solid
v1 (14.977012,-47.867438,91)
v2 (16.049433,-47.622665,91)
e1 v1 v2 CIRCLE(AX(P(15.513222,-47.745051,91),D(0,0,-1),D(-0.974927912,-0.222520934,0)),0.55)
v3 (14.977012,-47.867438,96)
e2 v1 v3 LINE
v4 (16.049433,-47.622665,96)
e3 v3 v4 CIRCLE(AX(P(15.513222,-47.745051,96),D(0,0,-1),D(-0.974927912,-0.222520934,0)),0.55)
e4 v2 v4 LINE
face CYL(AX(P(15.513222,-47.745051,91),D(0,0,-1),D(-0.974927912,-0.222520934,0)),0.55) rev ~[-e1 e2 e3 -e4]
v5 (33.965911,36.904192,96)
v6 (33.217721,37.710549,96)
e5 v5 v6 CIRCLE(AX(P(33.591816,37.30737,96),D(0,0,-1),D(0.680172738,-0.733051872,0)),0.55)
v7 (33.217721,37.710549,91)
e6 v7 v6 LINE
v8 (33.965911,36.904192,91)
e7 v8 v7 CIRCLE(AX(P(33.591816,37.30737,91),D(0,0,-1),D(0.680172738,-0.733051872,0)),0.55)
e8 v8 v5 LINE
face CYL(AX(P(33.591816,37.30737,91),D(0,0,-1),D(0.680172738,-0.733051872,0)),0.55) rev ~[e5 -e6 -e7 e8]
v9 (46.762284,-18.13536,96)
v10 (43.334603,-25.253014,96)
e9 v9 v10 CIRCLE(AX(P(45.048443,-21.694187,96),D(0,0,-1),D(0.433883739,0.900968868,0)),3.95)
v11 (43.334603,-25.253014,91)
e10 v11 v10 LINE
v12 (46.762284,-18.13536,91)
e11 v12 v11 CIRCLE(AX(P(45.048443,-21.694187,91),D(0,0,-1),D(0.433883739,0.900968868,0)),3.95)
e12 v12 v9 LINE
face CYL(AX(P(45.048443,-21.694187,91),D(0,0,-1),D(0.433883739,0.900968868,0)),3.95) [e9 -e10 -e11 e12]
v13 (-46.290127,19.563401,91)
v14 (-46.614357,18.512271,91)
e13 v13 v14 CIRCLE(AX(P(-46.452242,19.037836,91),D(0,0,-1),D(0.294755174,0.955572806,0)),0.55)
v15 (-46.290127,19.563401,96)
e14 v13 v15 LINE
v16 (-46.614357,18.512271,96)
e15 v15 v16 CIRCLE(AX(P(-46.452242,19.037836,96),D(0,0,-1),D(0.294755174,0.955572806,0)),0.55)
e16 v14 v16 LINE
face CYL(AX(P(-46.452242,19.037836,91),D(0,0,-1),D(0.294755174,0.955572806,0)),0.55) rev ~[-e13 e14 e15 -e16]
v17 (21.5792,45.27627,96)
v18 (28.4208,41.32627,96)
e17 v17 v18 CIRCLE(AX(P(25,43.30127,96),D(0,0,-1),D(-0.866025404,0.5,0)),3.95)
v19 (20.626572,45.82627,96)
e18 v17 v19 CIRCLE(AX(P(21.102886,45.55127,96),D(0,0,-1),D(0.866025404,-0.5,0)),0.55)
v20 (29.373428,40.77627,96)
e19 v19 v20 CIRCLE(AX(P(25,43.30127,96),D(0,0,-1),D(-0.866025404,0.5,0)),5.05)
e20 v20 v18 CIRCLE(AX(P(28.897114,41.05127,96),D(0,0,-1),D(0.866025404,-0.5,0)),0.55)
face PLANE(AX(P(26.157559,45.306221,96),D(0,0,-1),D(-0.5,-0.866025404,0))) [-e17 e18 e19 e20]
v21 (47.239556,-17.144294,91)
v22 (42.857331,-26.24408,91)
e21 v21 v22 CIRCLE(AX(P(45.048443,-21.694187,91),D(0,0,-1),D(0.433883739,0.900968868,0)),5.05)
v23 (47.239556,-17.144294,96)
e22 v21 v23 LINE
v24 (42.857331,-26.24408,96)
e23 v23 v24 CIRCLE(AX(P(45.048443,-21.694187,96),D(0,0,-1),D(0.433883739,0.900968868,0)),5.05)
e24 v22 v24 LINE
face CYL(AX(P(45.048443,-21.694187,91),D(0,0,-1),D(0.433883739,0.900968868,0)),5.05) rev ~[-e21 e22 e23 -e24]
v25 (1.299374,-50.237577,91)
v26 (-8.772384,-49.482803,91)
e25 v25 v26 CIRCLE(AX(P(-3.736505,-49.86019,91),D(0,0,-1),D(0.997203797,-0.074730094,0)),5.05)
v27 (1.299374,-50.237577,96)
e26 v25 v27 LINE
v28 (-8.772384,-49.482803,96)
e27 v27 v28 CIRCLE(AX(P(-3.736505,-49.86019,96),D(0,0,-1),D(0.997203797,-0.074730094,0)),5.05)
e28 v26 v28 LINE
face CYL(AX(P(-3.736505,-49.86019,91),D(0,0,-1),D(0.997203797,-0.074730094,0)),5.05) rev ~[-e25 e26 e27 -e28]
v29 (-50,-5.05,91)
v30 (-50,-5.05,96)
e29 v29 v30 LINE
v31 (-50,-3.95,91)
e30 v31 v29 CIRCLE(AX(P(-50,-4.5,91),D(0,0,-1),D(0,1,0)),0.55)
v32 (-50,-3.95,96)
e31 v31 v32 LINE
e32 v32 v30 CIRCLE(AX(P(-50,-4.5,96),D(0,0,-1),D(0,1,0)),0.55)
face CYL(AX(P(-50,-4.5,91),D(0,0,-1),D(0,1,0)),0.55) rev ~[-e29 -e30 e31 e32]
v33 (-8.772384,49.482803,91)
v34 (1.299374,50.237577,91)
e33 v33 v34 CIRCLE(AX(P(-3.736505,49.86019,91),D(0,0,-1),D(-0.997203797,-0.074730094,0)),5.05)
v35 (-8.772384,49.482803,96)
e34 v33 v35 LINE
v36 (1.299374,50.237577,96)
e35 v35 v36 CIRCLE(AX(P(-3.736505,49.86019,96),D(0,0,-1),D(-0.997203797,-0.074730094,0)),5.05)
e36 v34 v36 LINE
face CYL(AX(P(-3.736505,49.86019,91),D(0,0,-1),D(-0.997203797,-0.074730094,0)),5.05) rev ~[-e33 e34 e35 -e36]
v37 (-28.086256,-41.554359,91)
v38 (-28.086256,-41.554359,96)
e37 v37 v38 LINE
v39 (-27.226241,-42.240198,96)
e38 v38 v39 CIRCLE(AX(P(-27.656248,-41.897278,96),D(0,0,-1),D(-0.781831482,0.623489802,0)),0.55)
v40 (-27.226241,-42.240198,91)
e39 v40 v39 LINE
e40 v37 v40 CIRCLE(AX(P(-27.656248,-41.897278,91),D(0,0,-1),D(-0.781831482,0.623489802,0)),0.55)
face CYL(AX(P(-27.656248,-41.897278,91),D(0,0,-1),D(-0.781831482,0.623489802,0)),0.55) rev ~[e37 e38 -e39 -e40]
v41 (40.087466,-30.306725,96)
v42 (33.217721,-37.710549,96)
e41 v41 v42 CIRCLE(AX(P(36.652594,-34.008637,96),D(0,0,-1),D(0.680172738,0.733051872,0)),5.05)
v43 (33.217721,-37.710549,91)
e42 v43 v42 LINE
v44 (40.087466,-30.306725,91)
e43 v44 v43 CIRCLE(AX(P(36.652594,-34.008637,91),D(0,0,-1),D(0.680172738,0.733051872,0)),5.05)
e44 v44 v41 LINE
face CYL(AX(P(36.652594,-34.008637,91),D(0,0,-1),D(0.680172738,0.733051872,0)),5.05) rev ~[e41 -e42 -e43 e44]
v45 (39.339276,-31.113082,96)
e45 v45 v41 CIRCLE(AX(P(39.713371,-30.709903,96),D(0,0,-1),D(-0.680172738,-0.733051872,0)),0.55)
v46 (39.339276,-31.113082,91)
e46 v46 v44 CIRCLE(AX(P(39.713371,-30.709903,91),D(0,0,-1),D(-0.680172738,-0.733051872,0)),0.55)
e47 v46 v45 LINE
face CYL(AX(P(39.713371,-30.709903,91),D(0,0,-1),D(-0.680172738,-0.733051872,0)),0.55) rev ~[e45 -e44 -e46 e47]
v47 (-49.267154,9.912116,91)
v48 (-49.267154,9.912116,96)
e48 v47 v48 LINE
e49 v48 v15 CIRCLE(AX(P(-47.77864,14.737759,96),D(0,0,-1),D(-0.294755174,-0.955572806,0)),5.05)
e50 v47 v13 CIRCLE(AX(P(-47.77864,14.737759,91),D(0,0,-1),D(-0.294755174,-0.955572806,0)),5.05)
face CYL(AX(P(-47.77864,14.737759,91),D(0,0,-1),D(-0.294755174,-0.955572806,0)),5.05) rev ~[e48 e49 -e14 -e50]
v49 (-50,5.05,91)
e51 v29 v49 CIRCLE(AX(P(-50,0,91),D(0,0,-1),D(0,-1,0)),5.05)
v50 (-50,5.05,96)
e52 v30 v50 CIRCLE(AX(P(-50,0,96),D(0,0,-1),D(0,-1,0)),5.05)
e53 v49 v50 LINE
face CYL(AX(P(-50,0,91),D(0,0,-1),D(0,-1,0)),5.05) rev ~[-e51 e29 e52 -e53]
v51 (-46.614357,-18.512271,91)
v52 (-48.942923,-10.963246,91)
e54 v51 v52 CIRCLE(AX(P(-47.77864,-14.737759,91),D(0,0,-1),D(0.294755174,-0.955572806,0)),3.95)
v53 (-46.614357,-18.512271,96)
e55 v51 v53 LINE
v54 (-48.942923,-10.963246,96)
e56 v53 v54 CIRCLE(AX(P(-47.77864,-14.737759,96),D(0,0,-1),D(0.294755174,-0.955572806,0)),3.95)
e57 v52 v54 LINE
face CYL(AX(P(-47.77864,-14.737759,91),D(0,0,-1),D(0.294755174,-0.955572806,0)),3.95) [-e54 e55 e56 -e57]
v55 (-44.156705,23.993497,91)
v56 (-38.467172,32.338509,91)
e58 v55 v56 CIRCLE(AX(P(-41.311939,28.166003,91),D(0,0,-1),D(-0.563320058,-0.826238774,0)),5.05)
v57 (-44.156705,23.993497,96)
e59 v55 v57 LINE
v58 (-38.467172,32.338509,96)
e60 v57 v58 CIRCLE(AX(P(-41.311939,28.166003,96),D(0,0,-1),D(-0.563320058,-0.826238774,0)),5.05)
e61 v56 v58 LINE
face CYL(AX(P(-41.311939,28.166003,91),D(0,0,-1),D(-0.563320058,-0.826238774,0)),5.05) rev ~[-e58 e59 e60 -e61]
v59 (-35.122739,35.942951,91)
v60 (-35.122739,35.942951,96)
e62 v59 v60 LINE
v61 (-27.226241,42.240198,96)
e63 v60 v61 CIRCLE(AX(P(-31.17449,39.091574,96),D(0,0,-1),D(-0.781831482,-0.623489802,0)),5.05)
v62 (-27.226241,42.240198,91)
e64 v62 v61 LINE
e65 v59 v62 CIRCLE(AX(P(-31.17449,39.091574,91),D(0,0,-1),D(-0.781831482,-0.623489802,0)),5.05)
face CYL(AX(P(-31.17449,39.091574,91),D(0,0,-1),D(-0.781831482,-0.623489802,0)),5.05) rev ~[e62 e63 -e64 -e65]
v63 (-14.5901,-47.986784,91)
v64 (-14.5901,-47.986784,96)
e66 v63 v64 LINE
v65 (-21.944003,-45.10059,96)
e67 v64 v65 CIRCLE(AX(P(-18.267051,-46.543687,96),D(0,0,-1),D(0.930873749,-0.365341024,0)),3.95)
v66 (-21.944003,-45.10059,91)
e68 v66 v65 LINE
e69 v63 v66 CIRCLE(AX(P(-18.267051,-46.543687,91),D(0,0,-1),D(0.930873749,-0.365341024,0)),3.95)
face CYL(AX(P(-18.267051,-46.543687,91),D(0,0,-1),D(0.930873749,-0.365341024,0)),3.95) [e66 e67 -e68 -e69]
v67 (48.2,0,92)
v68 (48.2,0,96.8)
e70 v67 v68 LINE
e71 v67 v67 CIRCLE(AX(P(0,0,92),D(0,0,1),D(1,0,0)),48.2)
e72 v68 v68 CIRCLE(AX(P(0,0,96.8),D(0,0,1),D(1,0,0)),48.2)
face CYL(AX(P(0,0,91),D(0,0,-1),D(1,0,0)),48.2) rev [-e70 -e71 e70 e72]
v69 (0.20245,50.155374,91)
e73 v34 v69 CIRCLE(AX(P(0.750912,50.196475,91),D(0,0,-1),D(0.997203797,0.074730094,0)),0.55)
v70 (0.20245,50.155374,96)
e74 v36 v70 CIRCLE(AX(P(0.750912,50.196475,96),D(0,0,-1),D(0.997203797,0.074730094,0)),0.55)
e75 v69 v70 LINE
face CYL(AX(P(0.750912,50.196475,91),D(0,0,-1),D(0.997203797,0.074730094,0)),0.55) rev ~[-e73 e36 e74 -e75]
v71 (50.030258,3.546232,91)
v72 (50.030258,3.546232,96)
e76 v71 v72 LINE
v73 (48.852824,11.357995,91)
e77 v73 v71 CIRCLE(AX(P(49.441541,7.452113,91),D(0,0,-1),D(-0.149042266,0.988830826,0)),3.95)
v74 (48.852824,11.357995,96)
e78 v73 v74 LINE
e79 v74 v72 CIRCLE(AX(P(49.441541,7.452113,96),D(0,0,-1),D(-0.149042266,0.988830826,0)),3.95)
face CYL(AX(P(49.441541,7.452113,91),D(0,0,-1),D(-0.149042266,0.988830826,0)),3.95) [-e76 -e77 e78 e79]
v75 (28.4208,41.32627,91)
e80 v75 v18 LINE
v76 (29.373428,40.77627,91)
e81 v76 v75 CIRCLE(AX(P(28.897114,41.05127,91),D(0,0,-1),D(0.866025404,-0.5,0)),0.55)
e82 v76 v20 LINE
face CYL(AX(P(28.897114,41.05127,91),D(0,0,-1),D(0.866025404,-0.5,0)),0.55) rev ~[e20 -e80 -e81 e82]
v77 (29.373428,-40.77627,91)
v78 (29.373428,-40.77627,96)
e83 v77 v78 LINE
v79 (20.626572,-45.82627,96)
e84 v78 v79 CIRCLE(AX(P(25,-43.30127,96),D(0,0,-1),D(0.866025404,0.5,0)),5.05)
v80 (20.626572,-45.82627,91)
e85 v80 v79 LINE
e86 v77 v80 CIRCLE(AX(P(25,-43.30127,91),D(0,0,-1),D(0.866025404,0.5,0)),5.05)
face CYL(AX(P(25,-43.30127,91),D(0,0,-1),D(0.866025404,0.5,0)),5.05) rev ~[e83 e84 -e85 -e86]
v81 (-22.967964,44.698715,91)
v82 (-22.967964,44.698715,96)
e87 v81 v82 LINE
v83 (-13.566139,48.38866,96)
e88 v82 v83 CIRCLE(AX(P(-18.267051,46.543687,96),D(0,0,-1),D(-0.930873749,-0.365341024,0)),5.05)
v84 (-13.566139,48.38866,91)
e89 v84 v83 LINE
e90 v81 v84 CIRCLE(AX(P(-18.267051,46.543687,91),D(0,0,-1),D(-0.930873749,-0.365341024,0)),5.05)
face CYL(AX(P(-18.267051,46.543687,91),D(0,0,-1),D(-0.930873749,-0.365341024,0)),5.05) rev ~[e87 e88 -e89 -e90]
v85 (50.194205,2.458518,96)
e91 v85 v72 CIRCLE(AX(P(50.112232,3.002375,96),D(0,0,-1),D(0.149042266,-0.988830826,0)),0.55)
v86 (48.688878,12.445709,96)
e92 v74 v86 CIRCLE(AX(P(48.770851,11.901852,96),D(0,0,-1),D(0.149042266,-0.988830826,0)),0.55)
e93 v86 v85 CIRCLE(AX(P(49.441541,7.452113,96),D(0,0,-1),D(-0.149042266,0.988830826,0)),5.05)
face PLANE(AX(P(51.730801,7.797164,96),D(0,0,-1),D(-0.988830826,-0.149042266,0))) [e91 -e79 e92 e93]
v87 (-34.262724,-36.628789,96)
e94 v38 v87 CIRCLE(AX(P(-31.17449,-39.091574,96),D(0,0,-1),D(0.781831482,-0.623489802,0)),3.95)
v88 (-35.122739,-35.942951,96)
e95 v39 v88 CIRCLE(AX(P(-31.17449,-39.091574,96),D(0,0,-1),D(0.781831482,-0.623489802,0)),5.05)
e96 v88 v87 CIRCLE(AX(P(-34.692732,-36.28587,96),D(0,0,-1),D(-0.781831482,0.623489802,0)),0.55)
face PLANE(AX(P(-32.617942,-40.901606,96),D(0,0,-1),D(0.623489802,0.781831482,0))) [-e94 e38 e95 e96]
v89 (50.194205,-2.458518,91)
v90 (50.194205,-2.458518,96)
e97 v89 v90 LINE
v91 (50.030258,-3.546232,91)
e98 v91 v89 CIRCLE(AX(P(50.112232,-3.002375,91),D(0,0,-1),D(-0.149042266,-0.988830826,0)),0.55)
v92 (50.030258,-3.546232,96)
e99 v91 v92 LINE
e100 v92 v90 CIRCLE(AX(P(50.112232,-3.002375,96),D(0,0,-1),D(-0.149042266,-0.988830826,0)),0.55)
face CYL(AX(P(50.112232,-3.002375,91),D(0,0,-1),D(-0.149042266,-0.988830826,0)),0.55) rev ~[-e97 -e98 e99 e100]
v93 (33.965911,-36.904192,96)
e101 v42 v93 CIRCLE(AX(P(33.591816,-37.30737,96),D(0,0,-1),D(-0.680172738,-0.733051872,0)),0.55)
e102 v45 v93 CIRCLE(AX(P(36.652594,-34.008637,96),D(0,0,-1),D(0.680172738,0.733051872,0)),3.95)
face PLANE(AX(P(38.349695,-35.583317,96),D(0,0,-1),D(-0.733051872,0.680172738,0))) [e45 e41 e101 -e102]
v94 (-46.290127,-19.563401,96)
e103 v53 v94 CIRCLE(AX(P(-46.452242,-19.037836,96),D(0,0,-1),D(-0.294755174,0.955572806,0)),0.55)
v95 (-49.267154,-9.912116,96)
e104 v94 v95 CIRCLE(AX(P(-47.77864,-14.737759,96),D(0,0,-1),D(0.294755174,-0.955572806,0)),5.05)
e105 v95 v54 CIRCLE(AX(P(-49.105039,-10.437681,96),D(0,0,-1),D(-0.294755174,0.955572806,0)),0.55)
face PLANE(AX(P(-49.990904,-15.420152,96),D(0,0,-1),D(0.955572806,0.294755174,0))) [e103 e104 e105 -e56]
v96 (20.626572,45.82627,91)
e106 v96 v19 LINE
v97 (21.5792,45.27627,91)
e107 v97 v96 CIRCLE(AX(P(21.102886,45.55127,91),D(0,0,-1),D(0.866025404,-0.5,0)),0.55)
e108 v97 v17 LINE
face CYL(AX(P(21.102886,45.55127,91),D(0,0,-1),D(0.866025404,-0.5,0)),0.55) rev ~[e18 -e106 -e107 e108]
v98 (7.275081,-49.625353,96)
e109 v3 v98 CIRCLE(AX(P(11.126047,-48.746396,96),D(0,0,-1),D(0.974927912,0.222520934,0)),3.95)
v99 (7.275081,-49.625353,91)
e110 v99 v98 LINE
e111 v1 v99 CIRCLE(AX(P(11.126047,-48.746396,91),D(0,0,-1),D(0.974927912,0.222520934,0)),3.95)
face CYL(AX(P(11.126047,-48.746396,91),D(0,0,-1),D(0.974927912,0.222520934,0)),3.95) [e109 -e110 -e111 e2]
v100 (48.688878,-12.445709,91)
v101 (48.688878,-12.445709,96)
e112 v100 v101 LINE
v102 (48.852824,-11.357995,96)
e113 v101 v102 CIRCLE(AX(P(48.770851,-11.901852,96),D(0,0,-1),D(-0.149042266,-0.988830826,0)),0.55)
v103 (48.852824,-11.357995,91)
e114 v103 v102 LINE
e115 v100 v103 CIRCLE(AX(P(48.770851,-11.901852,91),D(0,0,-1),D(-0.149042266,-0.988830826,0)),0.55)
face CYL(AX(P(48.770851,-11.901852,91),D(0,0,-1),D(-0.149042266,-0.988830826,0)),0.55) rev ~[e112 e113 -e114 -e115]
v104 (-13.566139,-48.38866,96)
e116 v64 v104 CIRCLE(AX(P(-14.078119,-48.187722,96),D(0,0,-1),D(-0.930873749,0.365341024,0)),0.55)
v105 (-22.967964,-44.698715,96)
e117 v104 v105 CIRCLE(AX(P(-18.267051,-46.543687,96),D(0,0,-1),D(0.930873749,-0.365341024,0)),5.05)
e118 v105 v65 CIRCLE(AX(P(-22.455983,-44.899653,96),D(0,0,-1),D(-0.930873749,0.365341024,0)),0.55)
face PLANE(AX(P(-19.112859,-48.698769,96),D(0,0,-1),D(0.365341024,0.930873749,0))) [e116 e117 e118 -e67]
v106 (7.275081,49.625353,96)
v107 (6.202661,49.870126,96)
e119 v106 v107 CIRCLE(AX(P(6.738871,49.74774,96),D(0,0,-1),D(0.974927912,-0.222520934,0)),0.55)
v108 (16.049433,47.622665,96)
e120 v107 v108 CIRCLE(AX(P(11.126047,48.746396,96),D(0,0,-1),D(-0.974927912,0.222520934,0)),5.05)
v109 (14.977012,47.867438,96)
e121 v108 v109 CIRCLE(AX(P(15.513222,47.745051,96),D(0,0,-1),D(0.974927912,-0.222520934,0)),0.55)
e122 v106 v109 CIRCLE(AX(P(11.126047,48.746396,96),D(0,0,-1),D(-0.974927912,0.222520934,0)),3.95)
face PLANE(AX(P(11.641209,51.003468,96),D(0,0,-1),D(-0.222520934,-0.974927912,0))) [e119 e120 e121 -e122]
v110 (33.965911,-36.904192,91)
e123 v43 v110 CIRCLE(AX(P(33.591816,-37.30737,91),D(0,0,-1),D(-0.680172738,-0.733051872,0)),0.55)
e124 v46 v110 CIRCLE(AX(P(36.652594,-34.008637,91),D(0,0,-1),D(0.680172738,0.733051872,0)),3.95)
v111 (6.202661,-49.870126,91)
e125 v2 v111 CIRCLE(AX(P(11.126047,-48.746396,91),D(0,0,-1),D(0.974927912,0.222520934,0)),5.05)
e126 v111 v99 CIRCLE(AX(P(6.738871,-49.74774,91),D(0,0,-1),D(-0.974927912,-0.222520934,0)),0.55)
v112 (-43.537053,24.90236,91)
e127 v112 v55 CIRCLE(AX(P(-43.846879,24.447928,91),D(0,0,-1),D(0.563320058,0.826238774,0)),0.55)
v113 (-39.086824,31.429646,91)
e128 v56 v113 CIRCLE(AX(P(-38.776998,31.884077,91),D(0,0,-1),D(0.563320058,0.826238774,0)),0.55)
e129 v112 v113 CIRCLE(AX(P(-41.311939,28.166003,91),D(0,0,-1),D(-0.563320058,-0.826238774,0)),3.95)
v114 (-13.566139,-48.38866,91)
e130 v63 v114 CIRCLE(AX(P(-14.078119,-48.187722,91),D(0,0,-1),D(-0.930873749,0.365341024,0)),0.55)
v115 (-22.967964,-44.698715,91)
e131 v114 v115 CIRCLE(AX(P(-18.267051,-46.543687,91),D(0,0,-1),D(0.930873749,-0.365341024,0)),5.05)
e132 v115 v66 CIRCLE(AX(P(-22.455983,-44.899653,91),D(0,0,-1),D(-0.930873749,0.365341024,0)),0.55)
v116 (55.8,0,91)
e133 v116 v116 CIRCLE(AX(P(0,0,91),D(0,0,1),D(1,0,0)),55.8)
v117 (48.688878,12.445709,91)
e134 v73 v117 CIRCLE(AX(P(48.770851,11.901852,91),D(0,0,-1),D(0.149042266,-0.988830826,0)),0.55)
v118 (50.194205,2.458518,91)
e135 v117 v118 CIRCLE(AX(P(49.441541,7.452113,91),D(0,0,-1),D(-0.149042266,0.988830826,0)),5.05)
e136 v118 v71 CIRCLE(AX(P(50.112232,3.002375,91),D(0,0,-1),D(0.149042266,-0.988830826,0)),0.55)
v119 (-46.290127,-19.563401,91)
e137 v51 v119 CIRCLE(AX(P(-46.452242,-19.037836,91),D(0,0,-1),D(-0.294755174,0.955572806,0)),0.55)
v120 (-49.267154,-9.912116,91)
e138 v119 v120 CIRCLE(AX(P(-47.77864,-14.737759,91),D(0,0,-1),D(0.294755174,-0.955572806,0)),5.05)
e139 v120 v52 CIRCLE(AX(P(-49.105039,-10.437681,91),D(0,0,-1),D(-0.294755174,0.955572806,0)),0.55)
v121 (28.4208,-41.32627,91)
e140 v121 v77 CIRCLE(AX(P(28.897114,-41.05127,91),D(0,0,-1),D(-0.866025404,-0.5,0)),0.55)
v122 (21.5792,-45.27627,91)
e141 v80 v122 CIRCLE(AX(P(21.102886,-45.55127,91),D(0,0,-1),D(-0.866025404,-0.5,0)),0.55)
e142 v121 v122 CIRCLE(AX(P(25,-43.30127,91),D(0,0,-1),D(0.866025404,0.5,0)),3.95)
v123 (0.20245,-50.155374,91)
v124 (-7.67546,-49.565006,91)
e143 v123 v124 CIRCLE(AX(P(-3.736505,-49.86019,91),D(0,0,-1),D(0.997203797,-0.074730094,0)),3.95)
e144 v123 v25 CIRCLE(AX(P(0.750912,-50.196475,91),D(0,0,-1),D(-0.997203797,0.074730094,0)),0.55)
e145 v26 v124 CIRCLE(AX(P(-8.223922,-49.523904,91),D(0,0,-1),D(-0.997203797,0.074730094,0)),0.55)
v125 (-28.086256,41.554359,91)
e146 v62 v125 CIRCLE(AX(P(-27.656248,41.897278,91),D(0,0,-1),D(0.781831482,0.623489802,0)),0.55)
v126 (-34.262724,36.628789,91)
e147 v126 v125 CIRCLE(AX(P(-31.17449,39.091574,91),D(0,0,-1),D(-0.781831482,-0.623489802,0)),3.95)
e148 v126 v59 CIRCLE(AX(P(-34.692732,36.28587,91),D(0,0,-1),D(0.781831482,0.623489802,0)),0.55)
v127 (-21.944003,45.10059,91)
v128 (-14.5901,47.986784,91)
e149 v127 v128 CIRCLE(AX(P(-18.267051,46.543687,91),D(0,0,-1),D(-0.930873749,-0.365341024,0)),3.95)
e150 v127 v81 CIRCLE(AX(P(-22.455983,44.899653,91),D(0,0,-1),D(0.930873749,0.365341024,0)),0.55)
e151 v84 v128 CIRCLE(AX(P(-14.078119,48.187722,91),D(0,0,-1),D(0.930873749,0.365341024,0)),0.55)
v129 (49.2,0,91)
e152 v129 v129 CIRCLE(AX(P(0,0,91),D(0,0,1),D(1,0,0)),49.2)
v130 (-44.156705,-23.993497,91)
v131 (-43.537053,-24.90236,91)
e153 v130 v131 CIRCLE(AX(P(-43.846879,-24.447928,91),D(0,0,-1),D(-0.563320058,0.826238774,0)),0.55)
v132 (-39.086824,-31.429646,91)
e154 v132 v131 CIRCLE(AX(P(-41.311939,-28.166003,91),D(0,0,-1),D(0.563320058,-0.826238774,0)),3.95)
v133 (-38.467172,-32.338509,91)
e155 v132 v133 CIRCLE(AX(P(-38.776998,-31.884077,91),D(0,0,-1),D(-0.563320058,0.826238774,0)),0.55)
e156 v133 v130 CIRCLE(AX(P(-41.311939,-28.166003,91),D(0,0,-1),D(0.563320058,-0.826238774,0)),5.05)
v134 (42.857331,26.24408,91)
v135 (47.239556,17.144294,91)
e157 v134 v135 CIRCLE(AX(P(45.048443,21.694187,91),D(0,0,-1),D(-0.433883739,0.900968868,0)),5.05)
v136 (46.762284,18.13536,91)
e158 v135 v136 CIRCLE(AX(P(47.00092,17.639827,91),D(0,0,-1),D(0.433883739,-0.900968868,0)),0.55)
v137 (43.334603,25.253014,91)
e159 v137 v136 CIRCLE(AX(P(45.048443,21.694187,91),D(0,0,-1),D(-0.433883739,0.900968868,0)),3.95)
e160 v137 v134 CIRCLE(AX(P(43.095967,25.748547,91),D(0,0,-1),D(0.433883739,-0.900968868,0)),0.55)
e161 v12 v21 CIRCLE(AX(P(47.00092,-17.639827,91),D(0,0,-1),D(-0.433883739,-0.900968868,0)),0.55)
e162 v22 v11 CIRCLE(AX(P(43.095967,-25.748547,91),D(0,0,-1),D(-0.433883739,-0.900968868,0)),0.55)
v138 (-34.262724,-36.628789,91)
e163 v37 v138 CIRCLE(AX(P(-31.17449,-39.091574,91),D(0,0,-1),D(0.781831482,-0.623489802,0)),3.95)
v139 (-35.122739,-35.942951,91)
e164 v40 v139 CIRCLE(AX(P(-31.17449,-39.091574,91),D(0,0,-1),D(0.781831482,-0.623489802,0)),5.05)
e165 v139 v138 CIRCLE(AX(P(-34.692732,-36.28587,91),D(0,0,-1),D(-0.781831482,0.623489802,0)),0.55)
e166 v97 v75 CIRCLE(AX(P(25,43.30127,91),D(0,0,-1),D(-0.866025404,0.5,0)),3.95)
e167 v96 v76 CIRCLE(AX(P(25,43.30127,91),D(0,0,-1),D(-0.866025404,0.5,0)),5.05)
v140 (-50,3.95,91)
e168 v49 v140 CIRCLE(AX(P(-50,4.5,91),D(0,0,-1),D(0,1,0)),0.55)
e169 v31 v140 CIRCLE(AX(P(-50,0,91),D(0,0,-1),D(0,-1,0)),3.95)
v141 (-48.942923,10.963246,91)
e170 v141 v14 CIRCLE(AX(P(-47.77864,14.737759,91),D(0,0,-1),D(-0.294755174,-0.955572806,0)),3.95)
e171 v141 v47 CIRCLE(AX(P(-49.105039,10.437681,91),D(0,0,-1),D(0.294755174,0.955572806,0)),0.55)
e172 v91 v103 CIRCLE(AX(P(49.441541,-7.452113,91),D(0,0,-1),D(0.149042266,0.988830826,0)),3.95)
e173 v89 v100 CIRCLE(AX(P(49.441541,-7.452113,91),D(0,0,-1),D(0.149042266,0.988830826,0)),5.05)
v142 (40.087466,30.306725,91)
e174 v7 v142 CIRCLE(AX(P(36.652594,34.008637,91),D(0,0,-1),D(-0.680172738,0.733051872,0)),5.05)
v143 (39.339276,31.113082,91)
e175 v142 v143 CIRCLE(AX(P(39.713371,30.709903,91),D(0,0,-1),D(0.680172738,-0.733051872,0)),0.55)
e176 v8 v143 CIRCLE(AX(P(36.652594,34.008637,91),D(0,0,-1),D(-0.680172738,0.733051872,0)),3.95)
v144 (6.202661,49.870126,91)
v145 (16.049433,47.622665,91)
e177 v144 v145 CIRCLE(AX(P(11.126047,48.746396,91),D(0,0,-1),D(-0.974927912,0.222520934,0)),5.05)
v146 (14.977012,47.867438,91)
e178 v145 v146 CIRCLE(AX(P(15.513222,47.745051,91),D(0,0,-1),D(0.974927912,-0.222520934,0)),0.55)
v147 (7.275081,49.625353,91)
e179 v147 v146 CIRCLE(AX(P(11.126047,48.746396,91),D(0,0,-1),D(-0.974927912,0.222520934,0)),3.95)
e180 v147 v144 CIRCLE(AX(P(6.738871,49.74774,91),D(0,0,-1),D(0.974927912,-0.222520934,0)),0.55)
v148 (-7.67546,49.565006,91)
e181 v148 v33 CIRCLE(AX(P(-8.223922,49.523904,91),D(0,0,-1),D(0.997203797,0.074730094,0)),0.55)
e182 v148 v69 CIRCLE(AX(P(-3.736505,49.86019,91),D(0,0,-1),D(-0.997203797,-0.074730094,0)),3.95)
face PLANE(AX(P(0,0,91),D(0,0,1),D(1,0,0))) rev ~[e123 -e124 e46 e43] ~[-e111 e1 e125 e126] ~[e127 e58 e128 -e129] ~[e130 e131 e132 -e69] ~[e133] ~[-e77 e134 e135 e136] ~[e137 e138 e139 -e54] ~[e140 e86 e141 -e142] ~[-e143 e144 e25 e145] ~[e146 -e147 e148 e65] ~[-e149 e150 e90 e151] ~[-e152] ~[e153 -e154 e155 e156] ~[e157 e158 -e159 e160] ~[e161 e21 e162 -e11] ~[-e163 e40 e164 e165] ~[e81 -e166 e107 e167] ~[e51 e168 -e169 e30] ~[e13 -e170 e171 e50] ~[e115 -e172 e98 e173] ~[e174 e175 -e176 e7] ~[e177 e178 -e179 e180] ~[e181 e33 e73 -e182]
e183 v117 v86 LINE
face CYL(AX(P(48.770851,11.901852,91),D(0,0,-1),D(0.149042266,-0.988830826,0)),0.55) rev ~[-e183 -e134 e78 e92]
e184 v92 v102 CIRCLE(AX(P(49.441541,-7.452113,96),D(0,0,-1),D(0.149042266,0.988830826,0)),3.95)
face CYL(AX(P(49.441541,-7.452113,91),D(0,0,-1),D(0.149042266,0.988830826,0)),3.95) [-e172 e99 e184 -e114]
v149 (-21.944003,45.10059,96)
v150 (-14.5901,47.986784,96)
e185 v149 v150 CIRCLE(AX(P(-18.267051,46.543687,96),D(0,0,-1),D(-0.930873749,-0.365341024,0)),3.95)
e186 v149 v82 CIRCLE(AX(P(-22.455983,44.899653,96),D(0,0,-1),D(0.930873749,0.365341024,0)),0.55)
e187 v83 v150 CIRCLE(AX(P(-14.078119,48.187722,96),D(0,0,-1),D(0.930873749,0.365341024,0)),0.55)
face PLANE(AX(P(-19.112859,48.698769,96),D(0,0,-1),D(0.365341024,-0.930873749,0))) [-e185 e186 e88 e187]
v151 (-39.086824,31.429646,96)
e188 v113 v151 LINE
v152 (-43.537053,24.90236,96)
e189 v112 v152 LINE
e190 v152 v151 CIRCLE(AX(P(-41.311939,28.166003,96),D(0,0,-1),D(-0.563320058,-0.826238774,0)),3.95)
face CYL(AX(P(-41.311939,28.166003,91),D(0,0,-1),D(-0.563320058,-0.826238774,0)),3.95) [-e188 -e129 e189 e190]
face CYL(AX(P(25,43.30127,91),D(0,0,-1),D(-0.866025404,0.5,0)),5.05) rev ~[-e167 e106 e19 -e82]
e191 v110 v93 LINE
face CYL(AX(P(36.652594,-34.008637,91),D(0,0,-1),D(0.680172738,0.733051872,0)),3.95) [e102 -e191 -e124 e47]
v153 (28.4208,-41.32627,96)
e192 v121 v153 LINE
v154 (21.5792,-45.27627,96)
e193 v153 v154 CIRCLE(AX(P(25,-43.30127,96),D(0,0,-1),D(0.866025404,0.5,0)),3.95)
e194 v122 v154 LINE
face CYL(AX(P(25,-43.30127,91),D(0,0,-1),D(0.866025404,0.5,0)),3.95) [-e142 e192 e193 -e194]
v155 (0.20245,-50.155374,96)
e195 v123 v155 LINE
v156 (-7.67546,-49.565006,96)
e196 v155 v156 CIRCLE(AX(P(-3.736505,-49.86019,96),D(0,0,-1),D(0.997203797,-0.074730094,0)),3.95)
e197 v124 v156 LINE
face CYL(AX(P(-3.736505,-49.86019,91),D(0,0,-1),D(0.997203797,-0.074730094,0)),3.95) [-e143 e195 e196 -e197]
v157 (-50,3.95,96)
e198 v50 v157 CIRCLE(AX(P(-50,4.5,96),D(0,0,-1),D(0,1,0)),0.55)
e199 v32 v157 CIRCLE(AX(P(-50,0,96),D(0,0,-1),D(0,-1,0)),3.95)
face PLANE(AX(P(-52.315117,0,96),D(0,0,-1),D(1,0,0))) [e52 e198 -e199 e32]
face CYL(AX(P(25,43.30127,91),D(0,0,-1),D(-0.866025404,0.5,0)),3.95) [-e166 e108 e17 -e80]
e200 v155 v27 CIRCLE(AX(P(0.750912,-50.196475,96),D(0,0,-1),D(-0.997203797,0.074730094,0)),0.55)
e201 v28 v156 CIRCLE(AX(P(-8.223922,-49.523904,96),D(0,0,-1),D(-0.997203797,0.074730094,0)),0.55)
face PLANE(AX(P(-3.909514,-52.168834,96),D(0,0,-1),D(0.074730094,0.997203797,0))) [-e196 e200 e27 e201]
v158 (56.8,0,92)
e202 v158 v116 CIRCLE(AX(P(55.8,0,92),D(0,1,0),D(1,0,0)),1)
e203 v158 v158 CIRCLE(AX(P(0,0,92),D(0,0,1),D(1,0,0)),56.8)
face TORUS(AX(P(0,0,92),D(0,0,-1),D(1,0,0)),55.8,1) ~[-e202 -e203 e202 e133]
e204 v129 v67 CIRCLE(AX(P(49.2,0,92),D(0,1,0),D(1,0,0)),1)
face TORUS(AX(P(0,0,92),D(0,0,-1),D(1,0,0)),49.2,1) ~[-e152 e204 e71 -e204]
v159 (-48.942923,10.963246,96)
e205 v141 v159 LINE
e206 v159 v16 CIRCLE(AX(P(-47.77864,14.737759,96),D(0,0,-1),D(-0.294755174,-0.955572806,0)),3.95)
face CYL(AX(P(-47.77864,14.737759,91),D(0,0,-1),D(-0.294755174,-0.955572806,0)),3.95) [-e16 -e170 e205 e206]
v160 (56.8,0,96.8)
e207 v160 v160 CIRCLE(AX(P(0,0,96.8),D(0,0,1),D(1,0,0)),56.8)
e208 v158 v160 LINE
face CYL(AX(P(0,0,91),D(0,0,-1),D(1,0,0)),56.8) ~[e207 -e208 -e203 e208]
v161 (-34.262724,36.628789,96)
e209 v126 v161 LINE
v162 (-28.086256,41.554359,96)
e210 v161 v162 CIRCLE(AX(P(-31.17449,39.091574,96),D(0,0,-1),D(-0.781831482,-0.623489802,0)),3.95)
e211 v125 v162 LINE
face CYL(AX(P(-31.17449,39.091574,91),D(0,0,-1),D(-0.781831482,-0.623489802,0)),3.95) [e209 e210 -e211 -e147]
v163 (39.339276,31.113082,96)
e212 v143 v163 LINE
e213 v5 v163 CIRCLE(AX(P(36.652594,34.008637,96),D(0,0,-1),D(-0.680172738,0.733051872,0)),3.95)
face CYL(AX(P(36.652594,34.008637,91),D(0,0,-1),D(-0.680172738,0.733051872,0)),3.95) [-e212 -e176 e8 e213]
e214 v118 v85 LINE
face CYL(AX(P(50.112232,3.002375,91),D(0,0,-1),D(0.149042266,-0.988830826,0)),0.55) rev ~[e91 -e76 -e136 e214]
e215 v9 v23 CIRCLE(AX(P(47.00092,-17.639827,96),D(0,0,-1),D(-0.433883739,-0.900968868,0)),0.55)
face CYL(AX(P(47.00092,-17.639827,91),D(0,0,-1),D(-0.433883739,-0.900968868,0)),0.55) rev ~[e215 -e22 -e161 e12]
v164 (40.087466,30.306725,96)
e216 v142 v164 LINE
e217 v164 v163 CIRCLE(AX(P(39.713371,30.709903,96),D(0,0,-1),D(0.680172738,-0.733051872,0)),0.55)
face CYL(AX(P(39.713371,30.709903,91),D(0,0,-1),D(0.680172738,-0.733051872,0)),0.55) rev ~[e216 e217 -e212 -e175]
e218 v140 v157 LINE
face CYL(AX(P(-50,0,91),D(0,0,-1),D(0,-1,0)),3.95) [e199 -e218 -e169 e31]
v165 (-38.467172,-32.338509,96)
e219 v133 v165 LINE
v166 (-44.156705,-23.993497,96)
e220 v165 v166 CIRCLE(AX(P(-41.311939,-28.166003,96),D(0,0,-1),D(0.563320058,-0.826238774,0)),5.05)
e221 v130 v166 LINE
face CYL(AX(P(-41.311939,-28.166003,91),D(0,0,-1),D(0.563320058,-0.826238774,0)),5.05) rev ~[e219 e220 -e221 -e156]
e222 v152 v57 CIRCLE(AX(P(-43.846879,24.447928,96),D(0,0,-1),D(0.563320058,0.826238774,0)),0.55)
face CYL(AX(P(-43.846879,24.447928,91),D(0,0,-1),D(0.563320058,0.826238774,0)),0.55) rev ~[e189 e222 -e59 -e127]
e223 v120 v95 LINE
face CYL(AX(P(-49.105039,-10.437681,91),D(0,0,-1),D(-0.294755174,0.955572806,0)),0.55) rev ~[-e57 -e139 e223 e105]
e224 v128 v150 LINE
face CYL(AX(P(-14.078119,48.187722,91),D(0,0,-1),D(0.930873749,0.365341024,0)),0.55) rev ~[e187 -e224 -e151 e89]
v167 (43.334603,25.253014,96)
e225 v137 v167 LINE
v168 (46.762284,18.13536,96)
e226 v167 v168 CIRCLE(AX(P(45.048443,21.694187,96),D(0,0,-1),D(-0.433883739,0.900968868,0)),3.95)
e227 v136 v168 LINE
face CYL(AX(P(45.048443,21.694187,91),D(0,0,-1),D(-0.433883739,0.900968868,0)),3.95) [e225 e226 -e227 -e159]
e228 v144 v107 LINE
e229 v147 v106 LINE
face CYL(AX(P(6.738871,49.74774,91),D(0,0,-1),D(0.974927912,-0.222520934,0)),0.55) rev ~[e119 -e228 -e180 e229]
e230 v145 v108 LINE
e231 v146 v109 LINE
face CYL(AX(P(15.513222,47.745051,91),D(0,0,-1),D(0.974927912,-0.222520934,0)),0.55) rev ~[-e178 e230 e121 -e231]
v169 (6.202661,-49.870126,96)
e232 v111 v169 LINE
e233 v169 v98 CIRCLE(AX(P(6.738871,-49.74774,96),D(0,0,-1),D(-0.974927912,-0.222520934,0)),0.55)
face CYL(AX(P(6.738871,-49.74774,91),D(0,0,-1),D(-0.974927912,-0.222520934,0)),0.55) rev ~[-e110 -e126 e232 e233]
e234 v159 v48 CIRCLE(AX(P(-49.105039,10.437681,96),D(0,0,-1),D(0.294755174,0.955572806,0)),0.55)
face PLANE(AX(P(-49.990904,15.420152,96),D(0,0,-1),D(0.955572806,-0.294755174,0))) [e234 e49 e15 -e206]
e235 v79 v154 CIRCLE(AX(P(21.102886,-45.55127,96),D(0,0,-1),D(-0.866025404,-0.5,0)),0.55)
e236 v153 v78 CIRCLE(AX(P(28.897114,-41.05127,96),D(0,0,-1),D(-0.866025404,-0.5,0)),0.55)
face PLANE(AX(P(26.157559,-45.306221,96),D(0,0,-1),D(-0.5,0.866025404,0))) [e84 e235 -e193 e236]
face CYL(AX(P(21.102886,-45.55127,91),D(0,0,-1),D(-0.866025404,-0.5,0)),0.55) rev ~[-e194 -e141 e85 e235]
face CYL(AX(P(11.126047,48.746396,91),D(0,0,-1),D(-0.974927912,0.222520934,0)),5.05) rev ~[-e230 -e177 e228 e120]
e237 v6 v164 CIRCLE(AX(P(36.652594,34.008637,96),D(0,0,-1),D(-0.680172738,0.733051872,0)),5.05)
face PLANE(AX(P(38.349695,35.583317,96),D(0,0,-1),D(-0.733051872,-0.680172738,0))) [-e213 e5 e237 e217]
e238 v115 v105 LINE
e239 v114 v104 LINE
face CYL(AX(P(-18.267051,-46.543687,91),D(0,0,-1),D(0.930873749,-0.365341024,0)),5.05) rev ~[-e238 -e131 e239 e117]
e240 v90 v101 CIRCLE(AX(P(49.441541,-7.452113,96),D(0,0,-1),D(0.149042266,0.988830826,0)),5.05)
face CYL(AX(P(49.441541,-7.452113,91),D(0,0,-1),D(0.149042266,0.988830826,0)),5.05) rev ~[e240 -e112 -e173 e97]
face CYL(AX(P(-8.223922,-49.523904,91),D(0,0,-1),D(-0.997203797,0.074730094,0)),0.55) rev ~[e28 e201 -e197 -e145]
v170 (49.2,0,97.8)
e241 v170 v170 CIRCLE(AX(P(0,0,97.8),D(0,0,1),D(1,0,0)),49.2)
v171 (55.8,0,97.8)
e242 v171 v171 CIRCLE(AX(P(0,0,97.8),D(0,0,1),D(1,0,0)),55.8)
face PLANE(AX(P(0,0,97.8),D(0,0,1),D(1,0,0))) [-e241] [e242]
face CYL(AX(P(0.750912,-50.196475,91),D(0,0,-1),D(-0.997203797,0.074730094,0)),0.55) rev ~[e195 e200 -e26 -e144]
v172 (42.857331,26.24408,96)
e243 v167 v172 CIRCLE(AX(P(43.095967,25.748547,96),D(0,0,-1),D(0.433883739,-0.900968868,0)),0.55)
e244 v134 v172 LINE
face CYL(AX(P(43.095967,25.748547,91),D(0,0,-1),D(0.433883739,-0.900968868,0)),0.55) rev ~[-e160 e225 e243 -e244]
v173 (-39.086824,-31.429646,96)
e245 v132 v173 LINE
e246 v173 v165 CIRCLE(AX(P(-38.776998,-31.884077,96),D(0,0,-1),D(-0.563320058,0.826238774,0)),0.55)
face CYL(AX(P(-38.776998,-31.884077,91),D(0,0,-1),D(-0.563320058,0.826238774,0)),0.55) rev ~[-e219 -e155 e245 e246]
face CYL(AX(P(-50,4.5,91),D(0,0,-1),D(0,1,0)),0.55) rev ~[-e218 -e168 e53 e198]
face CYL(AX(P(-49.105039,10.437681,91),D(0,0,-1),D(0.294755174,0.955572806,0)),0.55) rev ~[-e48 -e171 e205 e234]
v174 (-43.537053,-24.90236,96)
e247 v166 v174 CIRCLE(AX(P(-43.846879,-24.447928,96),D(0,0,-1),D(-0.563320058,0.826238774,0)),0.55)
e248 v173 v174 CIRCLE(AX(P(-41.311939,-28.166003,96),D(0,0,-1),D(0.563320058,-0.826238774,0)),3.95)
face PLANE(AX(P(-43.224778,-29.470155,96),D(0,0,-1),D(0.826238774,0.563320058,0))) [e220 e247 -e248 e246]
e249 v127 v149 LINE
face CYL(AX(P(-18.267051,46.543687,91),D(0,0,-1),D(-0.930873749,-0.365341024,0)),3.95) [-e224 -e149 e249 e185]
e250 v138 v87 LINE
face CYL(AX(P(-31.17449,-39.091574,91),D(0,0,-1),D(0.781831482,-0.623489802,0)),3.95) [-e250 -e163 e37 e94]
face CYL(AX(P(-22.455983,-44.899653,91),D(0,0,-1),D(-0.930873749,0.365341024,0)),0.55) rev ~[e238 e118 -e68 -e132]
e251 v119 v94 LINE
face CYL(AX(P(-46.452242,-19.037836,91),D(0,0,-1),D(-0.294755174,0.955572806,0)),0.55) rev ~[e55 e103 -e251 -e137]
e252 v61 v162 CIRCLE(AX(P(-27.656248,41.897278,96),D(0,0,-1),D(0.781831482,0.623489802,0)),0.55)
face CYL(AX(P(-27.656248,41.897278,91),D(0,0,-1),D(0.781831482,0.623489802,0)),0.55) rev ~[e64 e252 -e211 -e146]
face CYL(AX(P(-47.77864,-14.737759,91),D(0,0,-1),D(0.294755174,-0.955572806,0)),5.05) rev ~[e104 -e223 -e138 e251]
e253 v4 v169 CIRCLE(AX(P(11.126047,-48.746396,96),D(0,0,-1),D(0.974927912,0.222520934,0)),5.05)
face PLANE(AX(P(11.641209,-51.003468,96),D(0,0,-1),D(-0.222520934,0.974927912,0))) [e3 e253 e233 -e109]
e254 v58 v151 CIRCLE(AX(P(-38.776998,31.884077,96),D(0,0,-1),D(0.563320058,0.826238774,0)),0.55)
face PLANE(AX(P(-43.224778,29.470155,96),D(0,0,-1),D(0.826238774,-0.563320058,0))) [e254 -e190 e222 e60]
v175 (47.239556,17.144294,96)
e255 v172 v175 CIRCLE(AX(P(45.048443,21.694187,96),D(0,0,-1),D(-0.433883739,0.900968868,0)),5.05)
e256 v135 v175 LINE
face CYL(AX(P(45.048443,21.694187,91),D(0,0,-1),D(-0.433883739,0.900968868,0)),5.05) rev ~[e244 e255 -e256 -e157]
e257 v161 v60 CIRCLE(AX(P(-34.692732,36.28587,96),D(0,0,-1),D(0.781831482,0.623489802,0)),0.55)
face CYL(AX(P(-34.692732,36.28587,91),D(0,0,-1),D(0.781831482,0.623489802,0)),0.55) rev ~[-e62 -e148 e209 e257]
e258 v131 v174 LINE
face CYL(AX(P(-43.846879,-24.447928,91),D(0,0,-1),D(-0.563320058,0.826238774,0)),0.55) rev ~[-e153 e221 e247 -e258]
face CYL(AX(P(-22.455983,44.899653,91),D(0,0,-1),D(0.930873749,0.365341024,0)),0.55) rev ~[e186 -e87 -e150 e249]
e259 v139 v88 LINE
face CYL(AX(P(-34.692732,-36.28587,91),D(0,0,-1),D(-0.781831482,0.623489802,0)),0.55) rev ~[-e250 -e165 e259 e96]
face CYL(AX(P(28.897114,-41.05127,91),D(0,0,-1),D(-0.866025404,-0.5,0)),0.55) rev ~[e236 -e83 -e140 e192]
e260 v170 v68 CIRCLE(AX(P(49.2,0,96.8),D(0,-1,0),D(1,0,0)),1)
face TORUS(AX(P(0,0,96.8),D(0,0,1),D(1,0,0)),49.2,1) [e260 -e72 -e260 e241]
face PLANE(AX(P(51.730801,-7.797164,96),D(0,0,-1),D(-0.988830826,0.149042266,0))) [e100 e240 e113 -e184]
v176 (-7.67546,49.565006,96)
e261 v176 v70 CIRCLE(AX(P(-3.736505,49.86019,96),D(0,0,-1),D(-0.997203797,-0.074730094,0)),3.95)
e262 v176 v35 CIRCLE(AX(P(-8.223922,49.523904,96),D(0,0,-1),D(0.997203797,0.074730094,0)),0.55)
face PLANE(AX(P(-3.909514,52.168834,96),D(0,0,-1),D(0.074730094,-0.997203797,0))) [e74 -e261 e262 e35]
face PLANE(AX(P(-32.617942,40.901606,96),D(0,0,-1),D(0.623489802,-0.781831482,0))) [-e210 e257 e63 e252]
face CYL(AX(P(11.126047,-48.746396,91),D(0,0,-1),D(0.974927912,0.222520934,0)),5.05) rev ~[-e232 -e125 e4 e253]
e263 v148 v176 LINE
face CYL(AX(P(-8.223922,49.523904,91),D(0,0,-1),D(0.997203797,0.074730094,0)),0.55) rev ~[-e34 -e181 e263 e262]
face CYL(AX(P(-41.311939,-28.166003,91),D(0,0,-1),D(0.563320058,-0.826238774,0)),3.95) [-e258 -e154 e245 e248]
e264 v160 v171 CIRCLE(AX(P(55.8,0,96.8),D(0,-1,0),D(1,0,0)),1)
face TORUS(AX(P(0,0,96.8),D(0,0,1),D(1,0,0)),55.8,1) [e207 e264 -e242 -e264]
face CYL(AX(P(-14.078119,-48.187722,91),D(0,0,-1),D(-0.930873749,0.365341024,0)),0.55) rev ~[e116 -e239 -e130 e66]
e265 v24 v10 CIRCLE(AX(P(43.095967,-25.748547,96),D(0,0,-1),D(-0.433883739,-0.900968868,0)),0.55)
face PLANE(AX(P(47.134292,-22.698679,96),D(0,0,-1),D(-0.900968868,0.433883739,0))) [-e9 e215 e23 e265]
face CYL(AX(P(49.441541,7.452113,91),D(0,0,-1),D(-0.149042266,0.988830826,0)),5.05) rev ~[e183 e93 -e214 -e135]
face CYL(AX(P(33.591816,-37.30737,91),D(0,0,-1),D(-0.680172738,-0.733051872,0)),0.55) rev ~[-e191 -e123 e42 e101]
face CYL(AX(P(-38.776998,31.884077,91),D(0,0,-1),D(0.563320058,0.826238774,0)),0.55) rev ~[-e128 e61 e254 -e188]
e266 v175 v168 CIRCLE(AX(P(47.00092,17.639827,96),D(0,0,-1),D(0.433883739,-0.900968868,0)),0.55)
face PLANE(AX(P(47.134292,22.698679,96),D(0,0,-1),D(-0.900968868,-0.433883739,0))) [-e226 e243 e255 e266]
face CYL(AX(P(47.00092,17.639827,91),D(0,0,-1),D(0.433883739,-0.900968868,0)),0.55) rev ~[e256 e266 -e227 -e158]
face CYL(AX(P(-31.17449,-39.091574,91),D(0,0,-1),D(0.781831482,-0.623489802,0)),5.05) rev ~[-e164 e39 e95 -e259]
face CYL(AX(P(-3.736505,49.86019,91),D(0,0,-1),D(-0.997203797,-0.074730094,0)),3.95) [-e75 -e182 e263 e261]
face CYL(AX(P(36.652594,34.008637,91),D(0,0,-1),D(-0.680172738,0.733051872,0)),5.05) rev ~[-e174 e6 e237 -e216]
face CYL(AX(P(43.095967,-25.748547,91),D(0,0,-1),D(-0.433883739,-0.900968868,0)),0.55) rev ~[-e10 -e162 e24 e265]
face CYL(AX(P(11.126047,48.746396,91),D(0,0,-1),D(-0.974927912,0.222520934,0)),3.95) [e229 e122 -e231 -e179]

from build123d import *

# Parameters (mm, degrees)
SKETCH005_R           = 56.8
SKETCH005_R_2         = 48.2
PAD004_DEPTH          = 6.8
POCKET_DEPTH          = 5
POLARPATTERN003_COUNT = 21
FILLET001_R           = 1


with BuildPart() as part:
    # Sketch005 → Pad004 (new body)
    with BuildSketch(Plane.XY):
        Circle(SKETCH005_R)
        Circle(SKETCH005_R_2, mode=Mode.SUBTRACT)
    extrude(amount=PAD004_DEPTH)

    # Sketch006 (on Face3 of Pad004) → Pocket (cut)
    with BuildSketch(Plane(origin=(0, 0, 0), x_dir=(1, 0, 0), z_dir=(0, 0, -1))):
        with BuildLine():
            ThreePointArc((-50, 5.05), (-55.05, 0), (-50, -5.05))
            ThreePointArc((-50, -5.05), (-49.45, -4.5), (-50, -3.95))
            ThreePointArc((-50, 3.95), (-53.95, 0), (-50, -3.95))
            ThreePointArc((-50, 3.95), (-49.45, 4.5), (-50, 5.05))
        make_face()
    pocket = extrude(amount=-POCKET_DEPTH, mode=Mode.SUBTRACT)

    # PolarPattern003: Pocket ×21 about axis
    polarpattern003_axis = Axis((0, 0, 0), (0, 0, -1))
    for i in range(1, POLARPATTERN003_COUNT):
        add(pocket.rotate(polarpattern003_axis, i * 360 / POLARPATTERN003_COUNT), mode=Mode.SUBTRACT)

    # Fillet001
    fillet001_edges = [part.edges().sort_by_distance(p)[0] for p in [
        (56.8, 0, 3.4),
        (-56.8, 0, 0),
        (-56.8, 0, 6.8),
        (48.2, 0, 3.4),
        (-48.2, 0, 0),
        (-48.2, 0, 6.8),
    ]]
    fillet(fillet001_edges, radius=FILLET001_R)


with BuildPart() as part_1:
    # Body003 placement: moved
    add(part.part.moved(Location((0, 0, 91))))


solid = part_1.part
